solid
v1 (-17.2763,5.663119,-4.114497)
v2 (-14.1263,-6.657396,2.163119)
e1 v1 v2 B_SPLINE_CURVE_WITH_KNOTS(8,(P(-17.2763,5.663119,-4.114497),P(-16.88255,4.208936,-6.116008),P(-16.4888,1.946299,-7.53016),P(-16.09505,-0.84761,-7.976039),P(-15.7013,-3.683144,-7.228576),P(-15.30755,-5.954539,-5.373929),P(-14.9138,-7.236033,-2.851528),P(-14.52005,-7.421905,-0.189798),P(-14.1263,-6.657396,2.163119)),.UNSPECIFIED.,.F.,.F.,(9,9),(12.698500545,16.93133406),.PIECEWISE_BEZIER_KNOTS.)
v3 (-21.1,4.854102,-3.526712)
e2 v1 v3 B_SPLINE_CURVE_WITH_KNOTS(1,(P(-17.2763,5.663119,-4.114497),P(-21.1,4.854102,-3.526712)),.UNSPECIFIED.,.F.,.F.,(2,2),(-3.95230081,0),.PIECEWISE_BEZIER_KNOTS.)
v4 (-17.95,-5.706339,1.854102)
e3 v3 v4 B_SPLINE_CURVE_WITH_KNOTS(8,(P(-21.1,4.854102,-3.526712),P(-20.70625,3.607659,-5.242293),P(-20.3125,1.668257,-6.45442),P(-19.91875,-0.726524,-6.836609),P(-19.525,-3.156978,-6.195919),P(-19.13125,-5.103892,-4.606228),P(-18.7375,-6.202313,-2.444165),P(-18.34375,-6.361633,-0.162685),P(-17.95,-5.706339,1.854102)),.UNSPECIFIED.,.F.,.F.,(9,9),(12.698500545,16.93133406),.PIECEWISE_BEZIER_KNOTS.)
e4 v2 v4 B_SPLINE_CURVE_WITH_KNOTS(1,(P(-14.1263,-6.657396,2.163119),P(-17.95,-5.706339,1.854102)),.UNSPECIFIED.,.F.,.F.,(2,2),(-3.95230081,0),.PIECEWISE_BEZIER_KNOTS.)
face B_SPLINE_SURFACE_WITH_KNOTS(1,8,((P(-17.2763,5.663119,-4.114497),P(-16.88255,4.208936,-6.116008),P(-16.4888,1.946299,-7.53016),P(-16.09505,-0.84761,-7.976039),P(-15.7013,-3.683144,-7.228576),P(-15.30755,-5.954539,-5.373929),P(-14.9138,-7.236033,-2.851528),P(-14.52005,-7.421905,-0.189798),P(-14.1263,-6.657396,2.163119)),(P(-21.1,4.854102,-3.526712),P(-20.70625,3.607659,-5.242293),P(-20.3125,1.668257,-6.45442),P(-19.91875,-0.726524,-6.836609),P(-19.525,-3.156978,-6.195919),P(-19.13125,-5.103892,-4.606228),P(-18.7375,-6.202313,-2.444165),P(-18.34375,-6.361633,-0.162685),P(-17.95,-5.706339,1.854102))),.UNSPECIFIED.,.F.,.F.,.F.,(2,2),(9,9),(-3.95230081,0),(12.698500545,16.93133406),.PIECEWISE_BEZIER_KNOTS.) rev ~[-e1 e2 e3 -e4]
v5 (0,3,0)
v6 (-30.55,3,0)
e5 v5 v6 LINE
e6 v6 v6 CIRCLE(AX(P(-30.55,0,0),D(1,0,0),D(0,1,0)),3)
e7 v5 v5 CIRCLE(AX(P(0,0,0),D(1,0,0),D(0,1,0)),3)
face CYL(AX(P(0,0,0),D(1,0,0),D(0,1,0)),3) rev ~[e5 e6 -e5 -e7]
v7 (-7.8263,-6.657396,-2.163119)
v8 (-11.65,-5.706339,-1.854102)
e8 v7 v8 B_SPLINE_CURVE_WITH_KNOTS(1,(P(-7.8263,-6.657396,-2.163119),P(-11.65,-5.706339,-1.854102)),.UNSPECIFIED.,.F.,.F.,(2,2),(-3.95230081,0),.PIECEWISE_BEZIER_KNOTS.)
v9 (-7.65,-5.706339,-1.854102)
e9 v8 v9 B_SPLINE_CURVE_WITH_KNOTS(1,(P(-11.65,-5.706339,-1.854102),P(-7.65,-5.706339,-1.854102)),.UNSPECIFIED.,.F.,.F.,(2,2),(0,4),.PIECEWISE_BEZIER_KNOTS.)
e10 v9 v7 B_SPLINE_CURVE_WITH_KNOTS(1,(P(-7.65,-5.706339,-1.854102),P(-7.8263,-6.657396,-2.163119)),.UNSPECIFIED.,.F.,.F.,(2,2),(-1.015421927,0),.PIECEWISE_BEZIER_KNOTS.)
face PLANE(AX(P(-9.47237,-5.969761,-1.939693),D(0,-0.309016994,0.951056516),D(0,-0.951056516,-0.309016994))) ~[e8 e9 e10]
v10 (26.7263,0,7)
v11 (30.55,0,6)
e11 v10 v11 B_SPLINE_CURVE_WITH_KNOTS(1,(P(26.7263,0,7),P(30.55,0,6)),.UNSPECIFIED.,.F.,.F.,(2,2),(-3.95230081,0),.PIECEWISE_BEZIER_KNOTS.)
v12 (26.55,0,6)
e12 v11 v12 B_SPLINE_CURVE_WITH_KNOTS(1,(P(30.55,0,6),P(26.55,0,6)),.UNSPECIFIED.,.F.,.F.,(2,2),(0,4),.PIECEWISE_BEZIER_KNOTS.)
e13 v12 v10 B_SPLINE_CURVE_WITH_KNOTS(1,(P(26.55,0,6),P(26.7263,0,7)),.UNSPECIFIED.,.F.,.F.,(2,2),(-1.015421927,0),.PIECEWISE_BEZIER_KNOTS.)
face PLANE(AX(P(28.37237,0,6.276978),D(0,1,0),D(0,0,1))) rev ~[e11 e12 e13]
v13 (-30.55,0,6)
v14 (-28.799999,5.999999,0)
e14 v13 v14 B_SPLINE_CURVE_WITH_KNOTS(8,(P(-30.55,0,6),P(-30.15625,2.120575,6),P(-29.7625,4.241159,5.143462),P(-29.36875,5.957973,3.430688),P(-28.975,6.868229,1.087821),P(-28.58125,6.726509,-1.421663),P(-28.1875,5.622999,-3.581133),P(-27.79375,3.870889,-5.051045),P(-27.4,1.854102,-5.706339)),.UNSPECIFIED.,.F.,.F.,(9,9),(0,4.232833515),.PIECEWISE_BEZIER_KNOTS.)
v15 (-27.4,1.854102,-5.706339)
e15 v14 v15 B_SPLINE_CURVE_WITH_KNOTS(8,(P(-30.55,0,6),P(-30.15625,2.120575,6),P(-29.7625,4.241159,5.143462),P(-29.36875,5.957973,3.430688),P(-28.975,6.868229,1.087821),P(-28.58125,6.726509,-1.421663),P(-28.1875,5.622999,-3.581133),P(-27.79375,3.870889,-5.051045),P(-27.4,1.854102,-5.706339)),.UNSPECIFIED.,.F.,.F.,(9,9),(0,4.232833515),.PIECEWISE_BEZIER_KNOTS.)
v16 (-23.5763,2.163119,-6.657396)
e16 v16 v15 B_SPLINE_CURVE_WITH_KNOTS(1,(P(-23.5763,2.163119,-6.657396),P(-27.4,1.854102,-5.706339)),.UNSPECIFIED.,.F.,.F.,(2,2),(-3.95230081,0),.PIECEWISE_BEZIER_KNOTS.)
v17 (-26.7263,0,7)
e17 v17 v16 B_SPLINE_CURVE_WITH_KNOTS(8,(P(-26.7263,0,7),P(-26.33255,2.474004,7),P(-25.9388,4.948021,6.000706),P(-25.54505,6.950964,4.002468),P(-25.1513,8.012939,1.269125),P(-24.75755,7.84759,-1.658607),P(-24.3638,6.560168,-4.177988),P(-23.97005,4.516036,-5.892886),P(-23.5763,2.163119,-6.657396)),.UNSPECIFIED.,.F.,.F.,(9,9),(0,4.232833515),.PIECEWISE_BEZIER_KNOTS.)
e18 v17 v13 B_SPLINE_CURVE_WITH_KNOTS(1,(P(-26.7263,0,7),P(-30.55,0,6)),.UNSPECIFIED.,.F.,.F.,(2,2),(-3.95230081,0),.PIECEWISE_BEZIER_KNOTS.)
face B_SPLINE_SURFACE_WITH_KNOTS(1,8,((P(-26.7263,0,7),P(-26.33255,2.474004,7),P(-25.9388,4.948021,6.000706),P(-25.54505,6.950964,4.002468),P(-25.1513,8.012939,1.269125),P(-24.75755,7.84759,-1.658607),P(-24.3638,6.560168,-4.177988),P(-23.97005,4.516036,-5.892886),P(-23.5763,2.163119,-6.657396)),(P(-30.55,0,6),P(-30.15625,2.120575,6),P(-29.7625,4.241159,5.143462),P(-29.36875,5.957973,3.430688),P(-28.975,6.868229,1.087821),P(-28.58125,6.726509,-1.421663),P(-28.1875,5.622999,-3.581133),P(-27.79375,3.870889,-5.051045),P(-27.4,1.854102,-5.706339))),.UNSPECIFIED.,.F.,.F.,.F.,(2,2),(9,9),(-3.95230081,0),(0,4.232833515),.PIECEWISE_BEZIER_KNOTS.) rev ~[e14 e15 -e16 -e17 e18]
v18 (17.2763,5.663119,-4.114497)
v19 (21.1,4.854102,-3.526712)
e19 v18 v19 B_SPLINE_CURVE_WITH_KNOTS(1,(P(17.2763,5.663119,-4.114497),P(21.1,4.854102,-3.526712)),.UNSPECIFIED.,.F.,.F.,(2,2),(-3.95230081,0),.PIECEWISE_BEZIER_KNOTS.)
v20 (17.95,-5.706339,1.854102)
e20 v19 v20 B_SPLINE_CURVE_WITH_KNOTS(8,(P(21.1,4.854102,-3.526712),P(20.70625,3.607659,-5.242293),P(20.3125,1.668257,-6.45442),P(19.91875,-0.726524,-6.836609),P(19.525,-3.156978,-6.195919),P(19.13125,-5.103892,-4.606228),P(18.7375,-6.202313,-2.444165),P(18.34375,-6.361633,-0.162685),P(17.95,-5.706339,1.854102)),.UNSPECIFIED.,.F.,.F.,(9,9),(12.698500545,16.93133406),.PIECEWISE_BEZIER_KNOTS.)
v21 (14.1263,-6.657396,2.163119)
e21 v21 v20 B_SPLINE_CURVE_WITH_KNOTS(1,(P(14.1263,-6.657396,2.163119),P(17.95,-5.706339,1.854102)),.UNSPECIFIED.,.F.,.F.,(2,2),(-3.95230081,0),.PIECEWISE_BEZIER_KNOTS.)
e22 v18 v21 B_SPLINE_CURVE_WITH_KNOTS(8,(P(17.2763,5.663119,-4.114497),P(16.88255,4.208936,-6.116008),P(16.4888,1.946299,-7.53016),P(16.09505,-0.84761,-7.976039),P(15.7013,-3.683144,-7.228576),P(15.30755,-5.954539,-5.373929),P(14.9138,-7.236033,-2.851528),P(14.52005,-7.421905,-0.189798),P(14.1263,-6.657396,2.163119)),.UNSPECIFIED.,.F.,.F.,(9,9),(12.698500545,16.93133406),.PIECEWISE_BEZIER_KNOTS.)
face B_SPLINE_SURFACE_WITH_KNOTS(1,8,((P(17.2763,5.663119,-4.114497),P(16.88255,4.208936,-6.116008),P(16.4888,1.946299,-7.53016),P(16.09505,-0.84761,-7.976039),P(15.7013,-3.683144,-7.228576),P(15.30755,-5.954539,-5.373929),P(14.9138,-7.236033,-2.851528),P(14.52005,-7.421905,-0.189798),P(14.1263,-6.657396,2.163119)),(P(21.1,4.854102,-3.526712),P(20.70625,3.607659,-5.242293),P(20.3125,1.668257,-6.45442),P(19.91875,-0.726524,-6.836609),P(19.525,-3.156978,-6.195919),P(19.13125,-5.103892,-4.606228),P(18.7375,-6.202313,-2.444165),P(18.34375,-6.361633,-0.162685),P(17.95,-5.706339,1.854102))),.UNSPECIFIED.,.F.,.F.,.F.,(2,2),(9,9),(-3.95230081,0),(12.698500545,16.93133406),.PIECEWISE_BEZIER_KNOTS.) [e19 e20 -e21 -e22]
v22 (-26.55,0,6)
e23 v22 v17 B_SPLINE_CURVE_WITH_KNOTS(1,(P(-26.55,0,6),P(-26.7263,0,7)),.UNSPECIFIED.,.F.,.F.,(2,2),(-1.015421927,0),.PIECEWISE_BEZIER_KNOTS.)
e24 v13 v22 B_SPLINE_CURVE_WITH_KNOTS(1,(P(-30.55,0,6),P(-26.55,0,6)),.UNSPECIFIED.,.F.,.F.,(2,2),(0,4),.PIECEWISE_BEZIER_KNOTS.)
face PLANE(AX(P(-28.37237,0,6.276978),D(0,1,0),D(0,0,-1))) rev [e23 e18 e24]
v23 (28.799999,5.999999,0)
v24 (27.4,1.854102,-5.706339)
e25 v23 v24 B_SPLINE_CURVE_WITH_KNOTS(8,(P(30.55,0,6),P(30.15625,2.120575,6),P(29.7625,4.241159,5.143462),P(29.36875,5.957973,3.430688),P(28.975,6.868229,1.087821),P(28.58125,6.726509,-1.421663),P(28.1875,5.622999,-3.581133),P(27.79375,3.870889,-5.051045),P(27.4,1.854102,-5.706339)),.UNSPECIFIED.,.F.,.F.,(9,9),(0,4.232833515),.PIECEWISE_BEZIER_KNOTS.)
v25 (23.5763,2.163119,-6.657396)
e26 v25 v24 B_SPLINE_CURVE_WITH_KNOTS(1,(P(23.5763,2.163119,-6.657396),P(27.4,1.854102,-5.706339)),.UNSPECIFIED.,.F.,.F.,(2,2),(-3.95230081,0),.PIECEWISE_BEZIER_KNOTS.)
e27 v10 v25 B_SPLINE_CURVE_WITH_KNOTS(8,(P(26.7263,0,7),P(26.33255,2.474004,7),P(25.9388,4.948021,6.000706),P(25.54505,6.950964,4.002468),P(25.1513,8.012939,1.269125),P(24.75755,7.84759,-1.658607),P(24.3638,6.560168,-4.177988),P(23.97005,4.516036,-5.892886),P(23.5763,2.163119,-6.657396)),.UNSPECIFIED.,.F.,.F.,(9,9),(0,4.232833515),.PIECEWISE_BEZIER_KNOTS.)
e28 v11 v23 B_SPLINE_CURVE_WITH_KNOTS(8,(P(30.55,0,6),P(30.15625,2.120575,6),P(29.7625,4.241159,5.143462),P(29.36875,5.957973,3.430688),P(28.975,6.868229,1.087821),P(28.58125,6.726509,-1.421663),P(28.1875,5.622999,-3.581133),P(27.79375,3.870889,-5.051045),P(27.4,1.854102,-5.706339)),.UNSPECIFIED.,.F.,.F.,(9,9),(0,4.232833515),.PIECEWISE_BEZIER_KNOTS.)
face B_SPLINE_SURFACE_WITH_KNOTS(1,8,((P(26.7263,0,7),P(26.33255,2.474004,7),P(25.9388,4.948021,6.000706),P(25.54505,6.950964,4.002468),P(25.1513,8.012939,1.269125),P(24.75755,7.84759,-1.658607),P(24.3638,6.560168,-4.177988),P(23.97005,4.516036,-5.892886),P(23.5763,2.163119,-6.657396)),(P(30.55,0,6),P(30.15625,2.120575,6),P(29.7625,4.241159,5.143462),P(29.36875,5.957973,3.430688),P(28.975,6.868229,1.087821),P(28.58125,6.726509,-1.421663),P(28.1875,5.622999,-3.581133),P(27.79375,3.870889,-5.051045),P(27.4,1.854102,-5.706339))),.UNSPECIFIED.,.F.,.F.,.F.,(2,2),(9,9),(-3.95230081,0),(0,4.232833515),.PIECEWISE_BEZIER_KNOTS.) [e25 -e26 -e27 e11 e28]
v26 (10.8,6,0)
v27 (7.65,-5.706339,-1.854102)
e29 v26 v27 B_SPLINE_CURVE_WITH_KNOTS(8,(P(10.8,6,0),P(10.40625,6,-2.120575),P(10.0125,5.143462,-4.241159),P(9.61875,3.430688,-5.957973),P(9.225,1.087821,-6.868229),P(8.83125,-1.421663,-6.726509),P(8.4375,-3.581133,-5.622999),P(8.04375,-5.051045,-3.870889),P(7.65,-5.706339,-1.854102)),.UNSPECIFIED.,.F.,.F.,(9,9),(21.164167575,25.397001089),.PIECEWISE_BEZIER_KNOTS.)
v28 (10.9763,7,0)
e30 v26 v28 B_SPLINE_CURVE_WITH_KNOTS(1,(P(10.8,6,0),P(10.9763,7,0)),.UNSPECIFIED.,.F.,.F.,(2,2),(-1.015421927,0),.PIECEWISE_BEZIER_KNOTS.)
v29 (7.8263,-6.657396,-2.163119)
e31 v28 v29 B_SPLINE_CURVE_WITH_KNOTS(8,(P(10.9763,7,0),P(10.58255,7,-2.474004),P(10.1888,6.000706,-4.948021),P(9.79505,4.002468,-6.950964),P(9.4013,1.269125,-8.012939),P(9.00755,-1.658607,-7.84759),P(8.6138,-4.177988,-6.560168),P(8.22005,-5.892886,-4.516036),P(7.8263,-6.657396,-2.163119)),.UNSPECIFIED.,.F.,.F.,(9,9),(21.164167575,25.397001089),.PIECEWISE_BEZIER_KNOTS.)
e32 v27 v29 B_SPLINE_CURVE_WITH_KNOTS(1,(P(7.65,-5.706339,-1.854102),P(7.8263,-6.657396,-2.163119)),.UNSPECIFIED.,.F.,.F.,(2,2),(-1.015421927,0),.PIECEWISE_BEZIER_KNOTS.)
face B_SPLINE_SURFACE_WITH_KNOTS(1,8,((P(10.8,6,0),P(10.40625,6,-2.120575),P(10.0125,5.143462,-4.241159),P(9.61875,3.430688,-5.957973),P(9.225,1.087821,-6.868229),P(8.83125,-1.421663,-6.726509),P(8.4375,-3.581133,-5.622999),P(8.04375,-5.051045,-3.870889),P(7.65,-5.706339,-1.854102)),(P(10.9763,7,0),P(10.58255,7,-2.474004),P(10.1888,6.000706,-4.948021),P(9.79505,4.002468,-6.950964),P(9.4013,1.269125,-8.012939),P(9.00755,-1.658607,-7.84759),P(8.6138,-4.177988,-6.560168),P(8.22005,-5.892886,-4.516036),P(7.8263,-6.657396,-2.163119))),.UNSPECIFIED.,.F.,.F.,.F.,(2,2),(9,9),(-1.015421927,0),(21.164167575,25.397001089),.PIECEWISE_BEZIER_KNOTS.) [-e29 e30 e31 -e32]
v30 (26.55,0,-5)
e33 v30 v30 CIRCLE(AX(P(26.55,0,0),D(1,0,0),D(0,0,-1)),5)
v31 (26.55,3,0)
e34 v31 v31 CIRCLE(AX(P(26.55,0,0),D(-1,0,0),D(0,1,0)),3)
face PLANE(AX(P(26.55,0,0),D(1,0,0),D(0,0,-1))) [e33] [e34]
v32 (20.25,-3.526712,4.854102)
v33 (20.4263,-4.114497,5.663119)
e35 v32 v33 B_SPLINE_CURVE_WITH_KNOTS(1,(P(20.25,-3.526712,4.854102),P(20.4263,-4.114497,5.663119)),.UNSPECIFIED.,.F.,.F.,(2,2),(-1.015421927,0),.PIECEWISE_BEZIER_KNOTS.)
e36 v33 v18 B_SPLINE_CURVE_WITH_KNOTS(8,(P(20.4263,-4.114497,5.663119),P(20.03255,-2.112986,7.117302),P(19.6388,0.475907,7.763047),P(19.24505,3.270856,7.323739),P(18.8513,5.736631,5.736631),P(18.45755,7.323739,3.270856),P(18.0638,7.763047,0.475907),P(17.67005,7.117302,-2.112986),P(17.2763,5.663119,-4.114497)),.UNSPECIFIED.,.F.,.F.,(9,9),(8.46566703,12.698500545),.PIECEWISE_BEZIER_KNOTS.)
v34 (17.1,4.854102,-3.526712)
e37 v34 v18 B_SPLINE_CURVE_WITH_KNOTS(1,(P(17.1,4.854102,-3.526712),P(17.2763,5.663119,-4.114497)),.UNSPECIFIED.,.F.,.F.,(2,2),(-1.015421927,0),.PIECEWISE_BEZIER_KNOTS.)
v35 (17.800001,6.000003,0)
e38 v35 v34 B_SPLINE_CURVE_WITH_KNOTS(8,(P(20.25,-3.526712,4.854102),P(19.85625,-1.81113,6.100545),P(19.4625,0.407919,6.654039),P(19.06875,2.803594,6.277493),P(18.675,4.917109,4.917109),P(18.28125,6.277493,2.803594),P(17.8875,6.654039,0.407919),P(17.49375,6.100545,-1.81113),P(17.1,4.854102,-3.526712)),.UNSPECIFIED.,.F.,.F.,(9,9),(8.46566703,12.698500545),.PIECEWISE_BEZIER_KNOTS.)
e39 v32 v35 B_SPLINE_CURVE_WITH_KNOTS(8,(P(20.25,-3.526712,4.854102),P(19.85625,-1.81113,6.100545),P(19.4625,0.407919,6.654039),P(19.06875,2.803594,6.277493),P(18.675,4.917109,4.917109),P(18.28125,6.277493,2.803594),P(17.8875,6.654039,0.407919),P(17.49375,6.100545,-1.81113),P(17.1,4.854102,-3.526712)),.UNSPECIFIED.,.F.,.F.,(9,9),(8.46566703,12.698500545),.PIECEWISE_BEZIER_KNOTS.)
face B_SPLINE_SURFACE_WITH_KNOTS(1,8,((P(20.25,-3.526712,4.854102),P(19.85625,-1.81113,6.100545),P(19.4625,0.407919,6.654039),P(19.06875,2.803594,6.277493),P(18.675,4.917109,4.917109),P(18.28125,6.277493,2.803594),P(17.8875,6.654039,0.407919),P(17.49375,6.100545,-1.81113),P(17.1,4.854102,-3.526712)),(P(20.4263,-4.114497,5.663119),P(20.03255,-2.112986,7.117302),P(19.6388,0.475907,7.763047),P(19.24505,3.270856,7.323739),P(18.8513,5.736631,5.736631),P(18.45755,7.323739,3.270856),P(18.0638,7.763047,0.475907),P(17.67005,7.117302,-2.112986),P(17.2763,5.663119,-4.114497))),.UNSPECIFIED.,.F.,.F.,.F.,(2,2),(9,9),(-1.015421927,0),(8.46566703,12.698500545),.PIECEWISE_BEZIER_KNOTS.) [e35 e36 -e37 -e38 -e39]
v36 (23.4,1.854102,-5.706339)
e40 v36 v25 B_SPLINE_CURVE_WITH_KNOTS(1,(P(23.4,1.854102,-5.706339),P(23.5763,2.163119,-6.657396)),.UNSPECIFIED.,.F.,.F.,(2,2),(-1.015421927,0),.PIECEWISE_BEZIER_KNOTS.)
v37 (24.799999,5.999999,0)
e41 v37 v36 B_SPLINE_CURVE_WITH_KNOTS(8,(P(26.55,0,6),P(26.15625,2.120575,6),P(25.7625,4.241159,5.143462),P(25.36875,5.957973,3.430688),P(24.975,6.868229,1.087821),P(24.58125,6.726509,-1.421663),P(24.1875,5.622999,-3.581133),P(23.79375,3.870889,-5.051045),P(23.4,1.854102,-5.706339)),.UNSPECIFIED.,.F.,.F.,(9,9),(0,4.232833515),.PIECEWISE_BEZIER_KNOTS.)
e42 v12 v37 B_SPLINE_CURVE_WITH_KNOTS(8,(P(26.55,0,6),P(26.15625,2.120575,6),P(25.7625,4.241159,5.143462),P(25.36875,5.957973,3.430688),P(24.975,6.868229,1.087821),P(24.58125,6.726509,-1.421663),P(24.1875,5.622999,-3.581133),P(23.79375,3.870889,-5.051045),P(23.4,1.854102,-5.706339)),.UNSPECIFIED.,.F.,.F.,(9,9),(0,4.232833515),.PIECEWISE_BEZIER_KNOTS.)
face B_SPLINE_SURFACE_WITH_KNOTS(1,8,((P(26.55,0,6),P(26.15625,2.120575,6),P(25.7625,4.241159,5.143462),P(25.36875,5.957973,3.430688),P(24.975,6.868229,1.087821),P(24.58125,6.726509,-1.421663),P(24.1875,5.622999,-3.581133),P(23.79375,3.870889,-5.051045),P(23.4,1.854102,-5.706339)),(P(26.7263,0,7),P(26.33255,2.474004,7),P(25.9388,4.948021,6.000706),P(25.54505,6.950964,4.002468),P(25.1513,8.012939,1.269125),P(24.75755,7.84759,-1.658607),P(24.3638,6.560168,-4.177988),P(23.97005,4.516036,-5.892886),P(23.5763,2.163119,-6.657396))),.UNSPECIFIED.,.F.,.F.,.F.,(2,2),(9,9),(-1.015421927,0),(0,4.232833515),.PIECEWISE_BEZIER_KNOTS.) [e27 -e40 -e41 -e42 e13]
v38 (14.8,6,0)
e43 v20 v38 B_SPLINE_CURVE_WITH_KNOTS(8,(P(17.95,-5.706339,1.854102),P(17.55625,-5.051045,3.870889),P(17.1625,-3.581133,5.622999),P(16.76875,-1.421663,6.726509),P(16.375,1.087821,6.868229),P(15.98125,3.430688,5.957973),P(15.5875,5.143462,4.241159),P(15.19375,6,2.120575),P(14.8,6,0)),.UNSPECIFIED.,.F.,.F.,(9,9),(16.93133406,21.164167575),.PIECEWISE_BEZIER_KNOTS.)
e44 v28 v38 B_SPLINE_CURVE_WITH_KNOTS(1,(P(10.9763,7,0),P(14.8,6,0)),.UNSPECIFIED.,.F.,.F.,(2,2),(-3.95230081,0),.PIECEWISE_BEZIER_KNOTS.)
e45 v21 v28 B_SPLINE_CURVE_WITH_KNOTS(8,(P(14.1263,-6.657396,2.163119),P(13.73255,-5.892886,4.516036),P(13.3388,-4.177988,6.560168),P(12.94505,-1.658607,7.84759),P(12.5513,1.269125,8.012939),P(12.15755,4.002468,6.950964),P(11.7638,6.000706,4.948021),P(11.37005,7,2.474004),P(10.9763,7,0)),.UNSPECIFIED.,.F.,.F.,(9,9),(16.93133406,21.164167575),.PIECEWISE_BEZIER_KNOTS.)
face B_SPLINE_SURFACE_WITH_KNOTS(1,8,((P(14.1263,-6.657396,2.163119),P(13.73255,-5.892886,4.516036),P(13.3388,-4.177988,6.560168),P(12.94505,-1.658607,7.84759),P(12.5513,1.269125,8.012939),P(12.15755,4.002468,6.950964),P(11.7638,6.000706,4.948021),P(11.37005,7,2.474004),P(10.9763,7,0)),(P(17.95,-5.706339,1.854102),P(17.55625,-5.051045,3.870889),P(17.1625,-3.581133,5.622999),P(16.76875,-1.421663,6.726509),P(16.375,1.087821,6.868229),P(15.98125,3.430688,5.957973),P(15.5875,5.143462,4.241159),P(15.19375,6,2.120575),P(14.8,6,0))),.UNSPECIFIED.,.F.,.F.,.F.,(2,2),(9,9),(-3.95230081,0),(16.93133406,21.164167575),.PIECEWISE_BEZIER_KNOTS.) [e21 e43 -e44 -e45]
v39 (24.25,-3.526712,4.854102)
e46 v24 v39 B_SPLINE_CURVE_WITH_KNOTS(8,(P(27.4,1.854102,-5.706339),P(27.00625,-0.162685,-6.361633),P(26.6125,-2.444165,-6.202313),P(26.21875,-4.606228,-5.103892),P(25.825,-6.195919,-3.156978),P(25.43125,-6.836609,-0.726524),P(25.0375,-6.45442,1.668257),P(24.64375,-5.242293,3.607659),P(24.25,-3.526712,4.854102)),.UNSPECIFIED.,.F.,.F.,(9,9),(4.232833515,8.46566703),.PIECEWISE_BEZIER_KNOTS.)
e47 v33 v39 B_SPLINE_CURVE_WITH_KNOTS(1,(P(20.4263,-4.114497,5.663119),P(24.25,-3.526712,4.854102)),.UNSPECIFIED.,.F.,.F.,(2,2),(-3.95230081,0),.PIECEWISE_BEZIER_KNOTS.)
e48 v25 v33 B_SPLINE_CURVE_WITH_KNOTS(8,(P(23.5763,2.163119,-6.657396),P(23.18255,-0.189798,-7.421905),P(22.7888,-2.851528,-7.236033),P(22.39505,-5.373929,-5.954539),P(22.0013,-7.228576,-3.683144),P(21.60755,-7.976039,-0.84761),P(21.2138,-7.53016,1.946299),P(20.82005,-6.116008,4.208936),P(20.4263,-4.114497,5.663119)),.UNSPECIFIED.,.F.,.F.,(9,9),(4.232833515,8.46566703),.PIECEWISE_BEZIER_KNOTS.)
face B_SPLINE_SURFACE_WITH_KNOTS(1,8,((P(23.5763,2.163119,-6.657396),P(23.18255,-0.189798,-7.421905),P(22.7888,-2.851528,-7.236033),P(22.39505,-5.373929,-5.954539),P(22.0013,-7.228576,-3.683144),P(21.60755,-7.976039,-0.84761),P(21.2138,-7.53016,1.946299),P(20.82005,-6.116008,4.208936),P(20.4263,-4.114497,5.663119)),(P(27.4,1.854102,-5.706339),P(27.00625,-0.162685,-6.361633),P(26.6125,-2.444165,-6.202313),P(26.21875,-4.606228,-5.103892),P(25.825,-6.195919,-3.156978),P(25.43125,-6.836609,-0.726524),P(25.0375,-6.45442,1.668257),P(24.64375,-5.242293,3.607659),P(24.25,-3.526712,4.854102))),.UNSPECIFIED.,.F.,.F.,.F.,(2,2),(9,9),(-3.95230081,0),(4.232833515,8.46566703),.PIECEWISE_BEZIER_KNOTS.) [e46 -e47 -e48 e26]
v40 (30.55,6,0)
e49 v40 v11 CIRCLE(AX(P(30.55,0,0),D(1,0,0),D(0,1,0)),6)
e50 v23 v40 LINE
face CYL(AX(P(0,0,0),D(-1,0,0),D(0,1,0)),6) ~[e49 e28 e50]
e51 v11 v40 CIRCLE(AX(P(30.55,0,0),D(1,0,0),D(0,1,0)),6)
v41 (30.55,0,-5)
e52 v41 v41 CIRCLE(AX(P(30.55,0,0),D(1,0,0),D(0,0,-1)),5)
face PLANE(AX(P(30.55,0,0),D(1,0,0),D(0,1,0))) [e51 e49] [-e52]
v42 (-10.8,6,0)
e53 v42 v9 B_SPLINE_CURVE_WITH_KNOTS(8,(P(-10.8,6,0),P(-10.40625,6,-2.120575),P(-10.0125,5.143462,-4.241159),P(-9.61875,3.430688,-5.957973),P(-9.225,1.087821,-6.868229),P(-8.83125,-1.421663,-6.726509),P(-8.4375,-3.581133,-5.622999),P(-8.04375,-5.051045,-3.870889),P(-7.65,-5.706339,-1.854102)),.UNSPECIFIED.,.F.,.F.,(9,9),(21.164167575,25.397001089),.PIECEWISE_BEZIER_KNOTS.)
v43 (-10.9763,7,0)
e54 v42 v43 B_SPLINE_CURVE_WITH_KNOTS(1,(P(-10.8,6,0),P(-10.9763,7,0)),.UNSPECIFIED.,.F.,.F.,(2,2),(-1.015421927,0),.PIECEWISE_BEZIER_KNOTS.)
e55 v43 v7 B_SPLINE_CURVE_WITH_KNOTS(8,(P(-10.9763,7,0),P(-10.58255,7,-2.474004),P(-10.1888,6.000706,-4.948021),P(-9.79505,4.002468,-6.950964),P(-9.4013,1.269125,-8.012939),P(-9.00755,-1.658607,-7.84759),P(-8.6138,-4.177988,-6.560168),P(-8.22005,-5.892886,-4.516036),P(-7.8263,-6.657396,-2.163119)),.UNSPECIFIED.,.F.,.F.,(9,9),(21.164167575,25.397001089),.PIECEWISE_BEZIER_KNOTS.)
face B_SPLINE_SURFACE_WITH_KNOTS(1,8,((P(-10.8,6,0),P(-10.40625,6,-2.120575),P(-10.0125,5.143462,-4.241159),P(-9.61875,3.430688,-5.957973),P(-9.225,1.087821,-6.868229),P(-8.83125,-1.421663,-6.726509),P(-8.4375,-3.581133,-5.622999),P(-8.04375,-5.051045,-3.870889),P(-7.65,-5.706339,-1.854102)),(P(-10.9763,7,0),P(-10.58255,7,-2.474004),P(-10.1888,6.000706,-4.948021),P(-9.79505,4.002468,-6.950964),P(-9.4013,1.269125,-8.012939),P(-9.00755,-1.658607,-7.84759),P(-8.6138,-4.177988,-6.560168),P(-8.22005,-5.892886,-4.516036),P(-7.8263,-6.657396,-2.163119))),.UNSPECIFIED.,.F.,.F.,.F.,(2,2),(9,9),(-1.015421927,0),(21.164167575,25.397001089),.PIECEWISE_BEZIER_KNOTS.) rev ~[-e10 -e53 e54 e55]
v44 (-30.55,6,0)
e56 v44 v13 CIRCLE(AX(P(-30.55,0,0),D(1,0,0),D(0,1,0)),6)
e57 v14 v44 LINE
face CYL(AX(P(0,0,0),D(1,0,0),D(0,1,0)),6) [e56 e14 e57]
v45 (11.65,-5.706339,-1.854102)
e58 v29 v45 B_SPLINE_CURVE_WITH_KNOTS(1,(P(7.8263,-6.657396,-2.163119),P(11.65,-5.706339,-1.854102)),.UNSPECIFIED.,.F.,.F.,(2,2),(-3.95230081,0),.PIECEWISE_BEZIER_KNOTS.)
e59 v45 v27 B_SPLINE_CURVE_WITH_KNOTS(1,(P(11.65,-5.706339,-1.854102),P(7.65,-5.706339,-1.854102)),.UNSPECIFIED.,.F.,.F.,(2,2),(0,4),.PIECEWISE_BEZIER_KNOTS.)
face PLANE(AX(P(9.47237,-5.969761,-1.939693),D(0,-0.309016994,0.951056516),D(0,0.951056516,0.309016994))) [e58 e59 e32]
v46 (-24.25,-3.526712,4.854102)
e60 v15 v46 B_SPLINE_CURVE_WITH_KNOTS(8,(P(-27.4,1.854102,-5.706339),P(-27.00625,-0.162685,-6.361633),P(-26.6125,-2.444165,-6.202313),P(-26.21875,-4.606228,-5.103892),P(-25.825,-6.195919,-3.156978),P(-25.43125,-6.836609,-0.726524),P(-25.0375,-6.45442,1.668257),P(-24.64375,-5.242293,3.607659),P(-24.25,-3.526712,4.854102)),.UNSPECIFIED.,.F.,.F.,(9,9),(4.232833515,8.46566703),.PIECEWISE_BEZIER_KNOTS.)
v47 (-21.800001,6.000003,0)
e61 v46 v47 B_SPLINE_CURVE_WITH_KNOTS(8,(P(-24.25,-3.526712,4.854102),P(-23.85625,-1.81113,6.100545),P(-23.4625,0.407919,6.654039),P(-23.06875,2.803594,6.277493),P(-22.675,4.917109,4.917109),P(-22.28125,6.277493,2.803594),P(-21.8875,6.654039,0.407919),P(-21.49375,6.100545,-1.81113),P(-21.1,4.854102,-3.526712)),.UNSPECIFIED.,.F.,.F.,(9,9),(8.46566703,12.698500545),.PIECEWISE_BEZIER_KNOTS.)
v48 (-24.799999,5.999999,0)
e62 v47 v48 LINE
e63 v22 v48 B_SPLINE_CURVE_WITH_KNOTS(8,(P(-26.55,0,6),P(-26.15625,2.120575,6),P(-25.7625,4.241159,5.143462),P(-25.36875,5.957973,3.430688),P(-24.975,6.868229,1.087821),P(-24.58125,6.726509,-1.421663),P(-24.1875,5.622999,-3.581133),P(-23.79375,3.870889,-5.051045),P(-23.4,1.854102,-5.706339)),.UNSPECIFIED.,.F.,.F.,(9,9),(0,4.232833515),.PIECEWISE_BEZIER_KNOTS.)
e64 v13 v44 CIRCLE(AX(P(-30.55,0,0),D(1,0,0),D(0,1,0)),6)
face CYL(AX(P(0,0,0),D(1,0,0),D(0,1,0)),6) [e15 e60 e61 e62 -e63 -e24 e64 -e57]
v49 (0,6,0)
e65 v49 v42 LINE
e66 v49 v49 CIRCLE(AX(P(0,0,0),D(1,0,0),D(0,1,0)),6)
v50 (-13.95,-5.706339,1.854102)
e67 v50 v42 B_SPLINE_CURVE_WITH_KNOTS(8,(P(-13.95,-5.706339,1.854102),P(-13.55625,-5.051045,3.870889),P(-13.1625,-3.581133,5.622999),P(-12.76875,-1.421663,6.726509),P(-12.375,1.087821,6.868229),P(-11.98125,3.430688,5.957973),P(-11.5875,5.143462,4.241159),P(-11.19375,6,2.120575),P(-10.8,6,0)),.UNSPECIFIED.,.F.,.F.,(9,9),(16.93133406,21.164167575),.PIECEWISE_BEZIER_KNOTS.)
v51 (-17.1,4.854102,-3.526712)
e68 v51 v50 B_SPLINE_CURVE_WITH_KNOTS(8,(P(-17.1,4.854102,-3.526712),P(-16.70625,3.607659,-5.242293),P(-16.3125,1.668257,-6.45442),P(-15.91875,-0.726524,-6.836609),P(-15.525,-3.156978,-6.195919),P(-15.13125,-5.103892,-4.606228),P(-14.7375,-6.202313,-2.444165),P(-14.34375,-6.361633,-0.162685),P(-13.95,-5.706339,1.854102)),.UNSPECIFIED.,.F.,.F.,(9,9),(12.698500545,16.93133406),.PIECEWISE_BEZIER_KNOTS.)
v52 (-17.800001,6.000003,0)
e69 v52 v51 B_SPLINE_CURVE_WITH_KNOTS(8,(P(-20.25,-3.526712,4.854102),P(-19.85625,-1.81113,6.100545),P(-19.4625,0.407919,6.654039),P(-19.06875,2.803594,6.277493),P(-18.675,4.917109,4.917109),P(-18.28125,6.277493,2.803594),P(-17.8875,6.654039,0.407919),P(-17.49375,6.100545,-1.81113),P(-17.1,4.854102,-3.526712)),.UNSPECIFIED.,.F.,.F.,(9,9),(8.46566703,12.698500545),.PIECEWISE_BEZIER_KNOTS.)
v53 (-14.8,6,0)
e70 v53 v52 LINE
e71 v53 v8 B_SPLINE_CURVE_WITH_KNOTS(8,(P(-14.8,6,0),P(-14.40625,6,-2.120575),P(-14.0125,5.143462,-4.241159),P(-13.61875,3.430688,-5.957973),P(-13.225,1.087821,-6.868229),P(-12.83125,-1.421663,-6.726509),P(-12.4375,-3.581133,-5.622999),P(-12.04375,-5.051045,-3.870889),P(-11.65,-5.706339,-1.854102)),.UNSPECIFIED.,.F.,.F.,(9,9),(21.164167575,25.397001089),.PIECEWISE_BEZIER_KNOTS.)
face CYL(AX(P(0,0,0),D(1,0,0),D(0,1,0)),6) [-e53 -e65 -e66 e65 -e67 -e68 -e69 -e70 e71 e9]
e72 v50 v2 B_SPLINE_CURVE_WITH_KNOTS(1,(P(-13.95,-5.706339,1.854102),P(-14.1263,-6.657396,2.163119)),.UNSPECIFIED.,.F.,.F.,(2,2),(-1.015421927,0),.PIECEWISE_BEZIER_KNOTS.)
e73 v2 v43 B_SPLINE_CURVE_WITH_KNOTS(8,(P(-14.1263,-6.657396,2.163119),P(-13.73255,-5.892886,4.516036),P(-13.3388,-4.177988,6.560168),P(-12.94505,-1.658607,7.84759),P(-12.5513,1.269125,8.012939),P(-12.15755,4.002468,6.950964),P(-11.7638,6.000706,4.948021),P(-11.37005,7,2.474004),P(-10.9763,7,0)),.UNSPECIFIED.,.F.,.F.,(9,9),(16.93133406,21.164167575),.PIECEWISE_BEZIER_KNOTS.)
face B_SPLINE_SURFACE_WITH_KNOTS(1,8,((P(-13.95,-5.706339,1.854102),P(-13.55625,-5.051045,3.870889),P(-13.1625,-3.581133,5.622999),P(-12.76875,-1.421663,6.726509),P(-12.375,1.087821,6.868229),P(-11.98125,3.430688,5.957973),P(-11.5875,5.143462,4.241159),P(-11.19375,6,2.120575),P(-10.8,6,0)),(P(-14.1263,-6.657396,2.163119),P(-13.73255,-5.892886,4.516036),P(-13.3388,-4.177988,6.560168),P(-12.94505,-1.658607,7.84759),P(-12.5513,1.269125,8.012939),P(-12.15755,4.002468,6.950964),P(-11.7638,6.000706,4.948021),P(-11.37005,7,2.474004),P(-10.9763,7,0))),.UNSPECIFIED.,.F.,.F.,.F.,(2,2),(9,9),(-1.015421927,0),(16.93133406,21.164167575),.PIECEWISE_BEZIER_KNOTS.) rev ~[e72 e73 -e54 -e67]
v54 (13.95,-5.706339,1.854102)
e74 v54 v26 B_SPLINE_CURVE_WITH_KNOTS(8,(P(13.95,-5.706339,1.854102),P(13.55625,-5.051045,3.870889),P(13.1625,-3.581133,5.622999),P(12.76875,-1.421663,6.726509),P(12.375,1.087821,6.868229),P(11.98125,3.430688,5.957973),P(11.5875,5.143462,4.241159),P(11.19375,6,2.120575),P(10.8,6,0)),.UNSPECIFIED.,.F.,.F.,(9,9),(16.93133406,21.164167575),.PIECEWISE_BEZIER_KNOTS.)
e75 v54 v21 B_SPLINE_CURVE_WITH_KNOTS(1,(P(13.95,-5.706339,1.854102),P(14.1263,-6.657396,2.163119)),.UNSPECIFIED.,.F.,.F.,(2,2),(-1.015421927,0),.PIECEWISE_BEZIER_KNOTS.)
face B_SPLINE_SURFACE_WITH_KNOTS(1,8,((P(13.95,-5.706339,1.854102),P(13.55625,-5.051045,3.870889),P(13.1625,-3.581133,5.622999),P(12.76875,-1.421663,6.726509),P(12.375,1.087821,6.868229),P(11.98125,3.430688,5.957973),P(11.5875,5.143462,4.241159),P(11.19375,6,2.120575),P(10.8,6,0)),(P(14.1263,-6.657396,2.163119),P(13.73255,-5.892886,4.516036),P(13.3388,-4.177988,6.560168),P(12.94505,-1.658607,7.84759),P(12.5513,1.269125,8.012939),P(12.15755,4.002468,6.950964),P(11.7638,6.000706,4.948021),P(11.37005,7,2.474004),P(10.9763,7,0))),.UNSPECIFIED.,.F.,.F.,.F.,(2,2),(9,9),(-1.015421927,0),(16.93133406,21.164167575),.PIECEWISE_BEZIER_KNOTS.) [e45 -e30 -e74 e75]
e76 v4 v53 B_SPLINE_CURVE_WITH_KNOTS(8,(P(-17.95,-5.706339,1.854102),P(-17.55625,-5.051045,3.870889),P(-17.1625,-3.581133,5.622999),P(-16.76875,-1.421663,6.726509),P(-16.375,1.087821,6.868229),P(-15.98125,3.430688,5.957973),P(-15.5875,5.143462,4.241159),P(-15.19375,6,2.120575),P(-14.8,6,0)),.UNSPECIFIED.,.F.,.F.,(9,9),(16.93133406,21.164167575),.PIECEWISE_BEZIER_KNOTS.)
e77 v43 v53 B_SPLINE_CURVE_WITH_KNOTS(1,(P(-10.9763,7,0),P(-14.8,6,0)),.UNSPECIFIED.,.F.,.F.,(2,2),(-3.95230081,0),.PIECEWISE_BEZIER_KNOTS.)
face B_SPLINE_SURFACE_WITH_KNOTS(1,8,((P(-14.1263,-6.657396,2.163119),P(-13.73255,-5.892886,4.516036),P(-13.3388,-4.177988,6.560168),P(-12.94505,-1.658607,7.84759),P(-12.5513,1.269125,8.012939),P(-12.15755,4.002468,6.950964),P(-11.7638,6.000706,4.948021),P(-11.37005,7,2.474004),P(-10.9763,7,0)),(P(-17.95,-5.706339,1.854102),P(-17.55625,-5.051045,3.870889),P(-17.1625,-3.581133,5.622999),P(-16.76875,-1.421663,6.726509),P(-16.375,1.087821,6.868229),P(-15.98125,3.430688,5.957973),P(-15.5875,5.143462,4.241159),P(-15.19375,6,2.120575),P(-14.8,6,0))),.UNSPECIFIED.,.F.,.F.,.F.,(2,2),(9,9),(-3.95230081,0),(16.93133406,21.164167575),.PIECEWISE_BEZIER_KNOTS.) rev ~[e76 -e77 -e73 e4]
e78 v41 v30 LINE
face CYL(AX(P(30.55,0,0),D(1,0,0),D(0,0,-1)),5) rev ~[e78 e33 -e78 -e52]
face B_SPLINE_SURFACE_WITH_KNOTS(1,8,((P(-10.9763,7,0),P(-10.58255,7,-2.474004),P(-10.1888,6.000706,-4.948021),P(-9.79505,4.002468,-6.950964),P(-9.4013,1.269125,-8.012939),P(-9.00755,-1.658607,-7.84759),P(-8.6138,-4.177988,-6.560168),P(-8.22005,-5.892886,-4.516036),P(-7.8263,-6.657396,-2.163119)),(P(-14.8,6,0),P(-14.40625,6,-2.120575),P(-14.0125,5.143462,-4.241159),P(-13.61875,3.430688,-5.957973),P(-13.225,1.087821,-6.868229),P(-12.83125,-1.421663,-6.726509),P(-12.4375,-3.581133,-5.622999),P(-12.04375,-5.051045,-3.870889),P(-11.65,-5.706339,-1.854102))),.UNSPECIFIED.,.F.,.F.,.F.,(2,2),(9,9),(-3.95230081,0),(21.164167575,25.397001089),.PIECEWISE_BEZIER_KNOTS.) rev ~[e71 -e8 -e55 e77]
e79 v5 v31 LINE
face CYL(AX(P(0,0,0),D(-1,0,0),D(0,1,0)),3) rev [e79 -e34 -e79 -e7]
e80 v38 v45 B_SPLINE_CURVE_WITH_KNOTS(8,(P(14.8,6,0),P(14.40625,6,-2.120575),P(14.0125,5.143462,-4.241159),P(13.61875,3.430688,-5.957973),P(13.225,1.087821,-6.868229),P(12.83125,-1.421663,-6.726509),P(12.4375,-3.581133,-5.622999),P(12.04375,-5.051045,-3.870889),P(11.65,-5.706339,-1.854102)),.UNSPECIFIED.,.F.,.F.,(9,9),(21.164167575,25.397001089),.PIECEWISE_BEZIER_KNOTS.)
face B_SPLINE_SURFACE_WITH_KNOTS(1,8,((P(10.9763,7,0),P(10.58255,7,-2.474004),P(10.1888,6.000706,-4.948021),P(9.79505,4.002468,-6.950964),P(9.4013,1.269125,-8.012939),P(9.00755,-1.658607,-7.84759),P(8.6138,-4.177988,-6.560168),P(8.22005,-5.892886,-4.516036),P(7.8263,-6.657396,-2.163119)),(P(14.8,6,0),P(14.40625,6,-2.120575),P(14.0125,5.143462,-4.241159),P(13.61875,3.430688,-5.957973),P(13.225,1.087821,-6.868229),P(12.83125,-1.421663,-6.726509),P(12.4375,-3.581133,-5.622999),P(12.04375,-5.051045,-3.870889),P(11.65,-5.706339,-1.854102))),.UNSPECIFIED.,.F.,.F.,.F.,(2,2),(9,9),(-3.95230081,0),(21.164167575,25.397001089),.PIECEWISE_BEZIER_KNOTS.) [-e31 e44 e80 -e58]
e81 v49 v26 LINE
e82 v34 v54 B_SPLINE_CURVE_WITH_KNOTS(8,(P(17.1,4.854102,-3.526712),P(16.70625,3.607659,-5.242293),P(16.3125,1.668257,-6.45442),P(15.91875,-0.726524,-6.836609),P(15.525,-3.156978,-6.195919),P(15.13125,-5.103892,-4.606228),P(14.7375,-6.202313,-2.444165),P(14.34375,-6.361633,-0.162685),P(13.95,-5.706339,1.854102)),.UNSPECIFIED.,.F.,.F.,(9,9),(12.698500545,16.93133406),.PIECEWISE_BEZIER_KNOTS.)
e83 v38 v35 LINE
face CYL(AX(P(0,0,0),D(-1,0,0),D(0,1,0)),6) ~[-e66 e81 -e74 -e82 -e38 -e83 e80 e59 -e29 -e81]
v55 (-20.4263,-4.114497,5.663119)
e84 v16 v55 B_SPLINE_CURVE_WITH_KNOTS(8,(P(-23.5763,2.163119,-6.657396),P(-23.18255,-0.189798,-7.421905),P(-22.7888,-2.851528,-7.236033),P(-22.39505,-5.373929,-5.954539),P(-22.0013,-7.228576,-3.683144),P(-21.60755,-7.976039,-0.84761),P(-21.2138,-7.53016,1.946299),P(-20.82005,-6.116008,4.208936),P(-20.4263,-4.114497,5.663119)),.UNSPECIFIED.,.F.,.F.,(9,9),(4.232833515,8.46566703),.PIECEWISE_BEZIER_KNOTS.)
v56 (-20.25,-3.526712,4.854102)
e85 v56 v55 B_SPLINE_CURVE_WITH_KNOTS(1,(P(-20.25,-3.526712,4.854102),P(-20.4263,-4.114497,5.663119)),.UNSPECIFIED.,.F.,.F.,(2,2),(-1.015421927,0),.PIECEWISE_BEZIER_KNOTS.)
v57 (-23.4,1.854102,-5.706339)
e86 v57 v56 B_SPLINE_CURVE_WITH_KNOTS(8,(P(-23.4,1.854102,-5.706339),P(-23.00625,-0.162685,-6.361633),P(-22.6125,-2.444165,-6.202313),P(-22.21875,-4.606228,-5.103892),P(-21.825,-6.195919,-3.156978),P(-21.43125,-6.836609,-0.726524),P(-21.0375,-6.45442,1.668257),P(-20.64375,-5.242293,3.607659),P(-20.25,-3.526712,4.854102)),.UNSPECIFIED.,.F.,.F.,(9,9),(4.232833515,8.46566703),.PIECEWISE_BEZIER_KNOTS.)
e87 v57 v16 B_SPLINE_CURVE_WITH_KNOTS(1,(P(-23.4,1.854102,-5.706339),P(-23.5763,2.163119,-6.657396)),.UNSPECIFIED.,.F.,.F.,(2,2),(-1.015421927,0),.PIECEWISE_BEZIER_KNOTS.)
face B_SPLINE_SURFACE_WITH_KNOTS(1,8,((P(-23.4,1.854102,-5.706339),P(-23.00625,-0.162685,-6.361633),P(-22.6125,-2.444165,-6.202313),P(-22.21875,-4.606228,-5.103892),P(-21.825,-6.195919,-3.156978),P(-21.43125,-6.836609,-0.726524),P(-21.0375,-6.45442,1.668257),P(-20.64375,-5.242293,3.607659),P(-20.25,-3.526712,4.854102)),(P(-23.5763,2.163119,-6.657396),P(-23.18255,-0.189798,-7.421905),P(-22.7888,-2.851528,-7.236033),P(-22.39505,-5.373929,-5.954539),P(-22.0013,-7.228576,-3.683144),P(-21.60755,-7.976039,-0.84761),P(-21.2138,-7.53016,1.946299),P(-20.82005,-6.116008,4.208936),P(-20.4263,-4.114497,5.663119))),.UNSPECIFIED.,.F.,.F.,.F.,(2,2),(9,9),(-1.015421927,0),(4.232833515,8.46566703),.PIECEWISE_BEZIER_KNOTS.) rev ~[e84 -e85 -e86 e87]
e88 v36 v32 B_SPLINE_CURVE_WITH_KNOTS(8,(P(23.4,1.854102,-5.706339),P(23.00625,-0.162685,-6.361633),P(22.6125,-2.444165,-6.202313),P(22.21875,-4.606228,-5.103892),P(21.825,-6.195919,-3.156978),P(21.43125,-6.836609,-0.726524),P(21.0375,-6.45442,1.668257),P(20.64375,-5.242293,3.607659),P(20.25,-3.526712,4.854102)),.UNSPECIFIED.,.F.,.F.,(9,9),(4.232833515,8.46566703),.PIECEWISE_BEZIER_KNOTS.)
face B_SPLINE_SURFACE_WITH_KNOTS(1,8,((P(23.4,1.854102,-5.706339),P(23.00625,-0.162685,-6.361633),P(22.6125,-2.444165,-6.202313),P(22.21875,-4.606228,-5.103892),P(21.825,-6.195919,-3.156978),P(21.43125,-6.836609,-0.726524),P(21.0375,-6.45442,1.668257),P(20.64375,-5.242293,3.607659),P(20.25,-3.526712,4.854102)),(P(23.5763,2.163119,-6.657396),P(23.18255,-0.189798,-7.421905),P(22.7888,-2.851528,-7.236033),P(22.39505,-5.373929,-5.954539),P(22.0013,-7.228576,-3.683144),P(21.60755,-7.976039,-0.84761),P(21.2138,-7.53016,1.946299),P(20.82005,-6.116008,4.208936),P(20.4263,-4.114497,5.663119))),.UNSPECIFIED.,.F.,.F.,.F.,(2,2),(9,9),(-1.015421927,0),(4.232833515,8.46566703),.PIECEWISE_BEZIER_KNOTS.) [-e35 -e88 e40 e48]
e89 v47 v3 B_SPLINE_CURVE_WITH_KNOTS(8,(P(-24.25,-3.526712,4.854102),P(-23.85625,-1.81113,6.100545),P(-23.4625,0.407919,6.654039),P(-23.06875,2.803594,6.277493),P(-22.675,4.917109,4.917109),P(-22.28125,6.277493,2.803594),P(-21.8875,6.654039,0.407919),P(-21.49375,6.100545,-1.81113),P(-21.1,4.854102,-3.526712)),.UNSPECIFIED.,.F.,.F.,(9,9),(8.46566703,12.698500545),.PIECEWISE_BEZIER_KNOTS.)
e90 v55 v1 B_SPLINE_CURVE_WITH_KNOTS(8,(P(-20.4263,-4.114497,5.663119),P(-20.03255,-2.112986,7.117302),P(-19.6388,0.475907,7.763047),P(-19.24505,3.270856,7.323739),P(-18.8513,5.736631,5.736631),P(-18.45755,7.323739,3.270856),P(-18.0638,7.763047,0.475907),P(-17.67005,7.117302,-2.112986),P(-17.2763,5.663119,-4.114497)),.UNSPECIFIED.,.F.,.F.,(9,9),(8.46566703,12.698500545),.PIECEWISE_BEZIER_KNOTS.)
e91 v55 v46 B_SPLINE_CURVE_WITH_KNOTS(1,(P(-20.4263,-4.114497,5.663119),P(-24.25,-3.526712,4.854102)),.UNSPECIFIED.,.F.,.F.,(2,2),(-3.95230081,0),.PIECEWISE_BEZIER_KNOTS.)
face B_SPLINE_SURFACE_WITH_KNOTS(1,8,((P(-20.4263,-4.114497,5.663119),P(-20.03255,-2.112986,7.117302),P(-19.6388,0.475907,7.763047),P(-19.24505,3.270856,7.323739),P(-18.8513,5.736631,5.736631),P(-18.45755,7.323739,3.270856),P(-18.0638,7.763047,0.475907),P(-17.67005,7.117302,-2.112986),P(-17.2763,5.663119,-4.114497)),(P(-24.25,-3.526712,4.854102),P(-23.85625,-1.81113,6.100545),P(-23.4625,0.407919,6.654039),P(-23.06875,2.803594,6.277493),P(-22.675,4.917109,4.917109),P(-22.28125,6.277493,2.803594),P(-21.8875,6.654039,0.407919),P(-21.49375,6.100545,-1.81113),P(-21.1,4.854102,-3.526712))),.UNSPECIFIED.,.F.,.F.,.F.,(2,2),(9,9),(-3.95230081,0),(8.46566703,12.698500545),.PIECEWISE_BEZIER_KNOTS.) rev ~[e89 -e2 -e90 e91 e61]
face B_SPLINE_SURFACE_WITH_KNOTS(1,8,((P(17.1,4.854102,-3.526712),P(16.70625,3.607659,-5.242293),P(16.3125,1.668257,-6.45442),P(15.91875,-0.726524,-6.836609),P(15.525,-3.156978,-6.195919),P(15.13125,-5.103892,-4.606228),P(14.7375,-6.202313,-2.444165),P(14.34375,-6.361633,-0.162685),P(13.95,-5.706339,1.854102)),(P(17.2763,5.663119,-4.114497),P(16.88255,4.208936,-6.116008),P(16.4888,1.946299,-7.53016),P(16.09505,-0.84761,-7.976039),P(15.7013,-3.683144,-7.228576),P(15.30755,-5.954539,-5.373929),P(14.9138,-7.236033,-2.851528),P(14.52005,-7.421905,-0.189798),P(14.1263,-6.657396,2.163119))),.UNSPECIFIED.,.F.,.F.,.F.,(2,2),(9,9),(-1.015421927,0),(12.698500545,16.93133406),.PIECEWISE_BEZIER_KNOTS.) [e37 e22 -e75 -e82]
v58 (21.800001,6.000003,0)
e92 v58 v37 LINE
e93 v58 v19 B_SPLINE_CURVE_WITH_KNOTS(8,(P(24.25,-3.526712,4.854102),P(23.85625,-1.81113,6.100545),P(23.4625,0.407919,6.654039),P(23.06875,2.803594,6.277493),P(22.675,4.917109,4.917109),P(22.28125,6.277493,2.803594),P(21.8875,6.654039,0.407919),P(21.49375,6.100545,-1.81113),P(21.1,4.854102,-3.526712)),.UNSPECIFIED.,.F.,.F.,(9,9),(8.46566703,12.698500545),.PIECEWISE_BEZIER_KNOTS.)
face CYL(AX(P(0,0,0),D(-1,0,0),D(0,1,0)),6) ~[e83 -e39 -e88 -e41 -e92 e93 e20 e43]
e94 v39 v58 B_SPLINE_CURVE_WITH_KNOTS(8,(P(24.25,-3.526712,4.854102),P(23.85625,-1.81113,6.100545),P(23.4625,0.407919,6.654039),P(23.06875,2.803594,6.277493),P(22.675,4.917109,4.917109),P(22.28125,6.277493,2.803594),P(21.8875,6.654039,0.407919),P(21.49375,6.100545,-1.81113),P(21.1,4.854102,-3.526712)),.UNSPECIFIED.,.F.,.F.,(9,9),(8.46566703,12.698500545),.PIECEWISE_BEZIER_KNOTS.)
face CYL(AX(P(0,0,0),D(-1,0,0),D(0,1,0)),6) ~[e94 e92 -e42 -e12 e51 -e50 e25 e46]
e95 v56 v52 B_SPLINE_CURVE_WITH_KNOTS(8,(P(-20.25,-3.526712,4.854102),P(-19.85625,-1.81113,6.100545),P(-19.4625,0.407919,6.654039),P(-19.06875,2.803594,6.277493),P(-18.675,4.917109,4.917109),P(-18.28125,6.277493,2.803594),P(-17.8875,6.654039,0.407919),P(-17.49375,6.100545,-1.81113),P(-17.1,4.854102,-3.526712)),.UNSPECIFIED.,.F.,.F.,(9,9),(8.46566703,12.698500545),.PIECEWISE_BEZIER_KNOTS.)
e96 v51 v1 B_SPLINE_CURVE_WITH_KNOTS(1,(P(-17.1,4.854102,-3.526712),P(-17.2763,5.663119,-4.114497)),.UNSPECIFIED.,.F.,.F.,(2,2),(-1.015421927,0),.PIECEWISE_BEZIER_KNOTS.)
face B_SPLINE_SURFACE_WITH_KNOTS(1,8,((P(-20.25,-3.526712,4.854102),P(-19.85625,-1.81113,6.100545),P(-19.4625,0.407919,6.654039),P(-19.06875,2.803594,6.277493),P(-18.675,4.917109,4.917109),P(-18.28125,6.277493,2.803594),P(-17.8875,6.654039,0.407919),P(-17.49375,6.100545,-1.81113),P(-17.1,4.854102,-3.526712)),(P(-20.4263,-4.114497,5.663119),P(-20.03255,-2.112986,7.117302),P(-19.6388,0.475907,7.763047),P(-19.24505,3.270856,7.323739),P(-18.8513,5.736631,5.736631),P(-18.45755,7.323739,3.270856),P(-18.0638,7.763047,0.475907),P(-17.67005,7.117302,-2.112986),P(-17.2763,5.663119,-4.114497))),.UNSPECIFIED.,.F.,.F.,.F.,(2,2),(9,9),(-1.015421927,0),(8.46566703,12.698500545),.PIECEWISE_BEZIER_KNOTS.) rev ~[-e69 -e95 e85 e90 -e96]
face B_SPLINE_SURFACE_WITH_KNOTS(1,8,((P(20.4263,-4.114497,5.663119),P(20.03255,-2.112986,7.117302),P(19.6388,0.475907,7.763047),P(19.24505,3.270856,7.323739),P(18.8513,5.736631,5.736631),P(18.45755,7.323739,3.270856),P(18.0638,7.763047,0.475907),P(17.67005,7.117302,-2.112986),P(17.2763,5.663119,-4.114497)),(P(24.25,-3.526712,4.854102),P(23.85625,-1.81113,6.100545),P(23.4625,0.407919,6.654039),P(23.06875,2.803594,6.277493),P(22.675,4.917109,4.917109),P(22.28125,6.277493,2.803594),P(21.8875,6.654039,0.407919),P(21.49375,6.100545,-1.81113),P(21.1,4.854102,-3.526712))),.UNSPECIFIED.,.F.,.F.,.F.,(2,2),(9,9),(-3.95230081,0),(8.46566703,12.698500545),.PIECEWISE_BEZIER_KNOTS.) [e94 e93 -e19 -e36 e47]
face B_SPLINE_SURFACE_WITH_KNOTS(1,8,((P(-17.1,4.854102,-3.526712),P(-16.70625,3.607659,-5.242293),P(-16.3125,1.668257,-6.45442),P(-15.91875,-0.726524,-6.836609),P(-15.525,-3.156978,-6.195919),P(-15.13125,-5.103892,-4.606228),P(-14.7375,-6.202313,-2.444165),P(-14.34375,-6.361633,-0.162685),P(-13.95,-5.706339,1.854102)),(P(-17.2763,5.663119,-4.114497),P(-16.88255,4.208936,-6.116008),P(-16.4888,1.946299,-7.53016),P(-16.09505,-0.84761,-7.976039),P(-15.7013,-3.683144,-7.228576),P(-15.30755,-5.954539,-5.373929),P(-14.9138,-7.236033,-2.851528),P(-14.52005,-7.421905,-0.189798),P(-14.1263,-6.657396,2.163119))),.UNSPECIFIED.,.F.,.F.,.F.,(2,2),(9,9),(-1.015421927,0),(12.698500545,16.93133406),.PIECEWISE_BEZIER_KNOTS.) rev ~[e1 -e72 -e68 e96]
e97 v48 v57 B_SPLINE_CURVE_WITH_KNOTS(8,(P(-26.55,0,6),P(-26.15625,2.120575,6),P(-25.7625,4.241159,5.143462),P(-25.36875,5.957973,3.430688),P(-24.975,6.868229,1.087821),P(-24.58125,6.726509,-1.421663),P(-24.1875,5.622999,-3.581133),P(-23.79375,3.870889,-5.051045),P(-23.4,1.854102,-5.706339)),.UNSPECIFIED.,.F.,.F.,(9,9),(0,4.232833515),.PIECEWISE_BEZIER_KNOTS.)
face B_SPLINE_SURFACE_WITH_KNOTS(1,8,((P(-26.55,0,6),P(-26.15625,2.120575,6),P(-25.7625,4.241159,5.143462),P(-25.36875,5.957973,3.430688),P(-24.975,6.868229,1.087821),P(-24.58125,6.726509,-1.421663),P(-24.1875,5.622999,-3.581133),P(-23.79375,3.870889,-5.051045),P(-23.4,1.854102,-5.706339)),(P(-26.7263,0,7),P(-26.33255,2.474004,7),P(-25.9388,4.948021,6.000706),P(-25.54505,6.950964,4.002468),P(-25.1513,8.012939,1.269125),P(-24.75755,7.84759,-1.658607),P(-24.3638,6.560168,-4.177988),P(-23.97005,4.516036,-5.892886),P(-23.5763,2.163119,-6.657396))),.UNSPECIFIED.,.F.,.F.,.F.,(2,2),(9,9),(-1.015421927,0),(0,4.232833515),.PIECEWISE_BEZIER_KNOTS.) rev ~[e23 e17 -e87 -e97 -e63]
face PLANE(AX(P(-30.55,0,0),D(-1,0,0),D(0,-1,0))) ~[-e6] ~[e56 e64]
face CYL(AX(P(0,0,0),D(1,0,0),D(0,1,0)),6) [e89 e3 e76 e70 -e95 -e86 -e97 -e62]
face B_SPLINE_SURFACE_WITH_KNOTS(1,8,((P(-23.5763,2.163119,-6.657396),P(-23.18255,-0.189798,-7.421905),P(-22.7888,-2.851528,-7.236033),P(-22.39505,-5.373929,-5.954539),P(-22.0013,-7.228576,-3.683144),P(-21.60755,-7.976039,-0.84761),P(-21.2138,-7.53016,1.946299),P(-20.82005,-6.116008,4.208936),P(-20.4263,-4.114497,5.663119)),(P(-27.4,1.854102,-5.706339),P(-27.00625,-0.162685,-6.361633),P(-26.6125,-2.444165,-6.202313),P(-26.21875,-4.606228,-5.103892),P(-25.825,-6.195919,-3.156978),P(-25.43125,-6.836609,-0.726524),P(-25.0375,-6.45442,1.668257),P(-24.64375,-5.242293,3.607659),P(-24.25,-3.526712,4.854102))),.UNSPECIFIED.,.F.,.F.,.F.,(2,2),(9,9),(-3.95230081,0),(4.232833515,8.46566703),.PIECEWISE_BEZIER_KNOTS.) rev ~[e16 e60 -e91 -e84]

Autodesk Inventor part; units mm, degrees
ref_plane "YZ Plane" through (0, 0, 0) normal (1, 0, 0) x (0, 1, 0)
ref_plane "XZ Plane" through (0, 0, 0) normal (0, 1, 0) x (-1, 0, 0)
ref_plane "XY Plane" through (0, 0, 0) normal (0, 0, 1) x (1, 0, 0)
sketch "Skizze1" plane through (0, 0, 0) normal (1, 0, 0) x (0, 1, 0)
  circle A0 centre (0, 0) radius 6
  circle A1 centre (0, 0) radius 3
  dimension "d0" = 12
  dimension "d1" = 6
extrude "Extrusion1" add sketch "Skizze1" along normal blind 30.55
sketch "Skizze2" plane through (0, 0, 0) normal (0, 1, 0) x (-1, 0, 0)
  line L0 (-30.55, 6) -> (-30.55, -6) construction
  line L1 (-30.55, 6) -> (-30.55, -6) construction
  line L2 (-30.55, 6) -> (-26.55, 6)
  line L3 (0, 6) -> (-30.55, 6) projected
  line L4 (-30.55, 6) -> (-30.55, 6.1)
  line L5 (-30.55, 6) -> (-26.7263, 7)
  line L6 (-26.7263, 7) -> (-26.55, 6)
  point P0 (0, 0)
  dimension "d4" = 4
  dimension "d5" = 0.1
  dimension "d6" = 80
  dimension "d7" = 1
coil "Spirale1" sketch "Skizze2" operation add axis through (-10, 0, 0) along (-1, 0, 0) pitch 7 turns 2.7 hand right
mirror "Spiegeln1" about plane through (0, 0, 0) normal (1, 0, 0) of "Extrusion1", "Spirale1"
sketch "Skizze3" plane through (30.55, 0, 0) normal (1, 0, 0) x (0, 0, -1)
  circle A0 centre (0, 0) radius 5
  dimension "d16" = 10
extrude "Extrusion2" cut sketch "Skizze3" against normal blind 4
properties part number "Dribblerschnecke"
